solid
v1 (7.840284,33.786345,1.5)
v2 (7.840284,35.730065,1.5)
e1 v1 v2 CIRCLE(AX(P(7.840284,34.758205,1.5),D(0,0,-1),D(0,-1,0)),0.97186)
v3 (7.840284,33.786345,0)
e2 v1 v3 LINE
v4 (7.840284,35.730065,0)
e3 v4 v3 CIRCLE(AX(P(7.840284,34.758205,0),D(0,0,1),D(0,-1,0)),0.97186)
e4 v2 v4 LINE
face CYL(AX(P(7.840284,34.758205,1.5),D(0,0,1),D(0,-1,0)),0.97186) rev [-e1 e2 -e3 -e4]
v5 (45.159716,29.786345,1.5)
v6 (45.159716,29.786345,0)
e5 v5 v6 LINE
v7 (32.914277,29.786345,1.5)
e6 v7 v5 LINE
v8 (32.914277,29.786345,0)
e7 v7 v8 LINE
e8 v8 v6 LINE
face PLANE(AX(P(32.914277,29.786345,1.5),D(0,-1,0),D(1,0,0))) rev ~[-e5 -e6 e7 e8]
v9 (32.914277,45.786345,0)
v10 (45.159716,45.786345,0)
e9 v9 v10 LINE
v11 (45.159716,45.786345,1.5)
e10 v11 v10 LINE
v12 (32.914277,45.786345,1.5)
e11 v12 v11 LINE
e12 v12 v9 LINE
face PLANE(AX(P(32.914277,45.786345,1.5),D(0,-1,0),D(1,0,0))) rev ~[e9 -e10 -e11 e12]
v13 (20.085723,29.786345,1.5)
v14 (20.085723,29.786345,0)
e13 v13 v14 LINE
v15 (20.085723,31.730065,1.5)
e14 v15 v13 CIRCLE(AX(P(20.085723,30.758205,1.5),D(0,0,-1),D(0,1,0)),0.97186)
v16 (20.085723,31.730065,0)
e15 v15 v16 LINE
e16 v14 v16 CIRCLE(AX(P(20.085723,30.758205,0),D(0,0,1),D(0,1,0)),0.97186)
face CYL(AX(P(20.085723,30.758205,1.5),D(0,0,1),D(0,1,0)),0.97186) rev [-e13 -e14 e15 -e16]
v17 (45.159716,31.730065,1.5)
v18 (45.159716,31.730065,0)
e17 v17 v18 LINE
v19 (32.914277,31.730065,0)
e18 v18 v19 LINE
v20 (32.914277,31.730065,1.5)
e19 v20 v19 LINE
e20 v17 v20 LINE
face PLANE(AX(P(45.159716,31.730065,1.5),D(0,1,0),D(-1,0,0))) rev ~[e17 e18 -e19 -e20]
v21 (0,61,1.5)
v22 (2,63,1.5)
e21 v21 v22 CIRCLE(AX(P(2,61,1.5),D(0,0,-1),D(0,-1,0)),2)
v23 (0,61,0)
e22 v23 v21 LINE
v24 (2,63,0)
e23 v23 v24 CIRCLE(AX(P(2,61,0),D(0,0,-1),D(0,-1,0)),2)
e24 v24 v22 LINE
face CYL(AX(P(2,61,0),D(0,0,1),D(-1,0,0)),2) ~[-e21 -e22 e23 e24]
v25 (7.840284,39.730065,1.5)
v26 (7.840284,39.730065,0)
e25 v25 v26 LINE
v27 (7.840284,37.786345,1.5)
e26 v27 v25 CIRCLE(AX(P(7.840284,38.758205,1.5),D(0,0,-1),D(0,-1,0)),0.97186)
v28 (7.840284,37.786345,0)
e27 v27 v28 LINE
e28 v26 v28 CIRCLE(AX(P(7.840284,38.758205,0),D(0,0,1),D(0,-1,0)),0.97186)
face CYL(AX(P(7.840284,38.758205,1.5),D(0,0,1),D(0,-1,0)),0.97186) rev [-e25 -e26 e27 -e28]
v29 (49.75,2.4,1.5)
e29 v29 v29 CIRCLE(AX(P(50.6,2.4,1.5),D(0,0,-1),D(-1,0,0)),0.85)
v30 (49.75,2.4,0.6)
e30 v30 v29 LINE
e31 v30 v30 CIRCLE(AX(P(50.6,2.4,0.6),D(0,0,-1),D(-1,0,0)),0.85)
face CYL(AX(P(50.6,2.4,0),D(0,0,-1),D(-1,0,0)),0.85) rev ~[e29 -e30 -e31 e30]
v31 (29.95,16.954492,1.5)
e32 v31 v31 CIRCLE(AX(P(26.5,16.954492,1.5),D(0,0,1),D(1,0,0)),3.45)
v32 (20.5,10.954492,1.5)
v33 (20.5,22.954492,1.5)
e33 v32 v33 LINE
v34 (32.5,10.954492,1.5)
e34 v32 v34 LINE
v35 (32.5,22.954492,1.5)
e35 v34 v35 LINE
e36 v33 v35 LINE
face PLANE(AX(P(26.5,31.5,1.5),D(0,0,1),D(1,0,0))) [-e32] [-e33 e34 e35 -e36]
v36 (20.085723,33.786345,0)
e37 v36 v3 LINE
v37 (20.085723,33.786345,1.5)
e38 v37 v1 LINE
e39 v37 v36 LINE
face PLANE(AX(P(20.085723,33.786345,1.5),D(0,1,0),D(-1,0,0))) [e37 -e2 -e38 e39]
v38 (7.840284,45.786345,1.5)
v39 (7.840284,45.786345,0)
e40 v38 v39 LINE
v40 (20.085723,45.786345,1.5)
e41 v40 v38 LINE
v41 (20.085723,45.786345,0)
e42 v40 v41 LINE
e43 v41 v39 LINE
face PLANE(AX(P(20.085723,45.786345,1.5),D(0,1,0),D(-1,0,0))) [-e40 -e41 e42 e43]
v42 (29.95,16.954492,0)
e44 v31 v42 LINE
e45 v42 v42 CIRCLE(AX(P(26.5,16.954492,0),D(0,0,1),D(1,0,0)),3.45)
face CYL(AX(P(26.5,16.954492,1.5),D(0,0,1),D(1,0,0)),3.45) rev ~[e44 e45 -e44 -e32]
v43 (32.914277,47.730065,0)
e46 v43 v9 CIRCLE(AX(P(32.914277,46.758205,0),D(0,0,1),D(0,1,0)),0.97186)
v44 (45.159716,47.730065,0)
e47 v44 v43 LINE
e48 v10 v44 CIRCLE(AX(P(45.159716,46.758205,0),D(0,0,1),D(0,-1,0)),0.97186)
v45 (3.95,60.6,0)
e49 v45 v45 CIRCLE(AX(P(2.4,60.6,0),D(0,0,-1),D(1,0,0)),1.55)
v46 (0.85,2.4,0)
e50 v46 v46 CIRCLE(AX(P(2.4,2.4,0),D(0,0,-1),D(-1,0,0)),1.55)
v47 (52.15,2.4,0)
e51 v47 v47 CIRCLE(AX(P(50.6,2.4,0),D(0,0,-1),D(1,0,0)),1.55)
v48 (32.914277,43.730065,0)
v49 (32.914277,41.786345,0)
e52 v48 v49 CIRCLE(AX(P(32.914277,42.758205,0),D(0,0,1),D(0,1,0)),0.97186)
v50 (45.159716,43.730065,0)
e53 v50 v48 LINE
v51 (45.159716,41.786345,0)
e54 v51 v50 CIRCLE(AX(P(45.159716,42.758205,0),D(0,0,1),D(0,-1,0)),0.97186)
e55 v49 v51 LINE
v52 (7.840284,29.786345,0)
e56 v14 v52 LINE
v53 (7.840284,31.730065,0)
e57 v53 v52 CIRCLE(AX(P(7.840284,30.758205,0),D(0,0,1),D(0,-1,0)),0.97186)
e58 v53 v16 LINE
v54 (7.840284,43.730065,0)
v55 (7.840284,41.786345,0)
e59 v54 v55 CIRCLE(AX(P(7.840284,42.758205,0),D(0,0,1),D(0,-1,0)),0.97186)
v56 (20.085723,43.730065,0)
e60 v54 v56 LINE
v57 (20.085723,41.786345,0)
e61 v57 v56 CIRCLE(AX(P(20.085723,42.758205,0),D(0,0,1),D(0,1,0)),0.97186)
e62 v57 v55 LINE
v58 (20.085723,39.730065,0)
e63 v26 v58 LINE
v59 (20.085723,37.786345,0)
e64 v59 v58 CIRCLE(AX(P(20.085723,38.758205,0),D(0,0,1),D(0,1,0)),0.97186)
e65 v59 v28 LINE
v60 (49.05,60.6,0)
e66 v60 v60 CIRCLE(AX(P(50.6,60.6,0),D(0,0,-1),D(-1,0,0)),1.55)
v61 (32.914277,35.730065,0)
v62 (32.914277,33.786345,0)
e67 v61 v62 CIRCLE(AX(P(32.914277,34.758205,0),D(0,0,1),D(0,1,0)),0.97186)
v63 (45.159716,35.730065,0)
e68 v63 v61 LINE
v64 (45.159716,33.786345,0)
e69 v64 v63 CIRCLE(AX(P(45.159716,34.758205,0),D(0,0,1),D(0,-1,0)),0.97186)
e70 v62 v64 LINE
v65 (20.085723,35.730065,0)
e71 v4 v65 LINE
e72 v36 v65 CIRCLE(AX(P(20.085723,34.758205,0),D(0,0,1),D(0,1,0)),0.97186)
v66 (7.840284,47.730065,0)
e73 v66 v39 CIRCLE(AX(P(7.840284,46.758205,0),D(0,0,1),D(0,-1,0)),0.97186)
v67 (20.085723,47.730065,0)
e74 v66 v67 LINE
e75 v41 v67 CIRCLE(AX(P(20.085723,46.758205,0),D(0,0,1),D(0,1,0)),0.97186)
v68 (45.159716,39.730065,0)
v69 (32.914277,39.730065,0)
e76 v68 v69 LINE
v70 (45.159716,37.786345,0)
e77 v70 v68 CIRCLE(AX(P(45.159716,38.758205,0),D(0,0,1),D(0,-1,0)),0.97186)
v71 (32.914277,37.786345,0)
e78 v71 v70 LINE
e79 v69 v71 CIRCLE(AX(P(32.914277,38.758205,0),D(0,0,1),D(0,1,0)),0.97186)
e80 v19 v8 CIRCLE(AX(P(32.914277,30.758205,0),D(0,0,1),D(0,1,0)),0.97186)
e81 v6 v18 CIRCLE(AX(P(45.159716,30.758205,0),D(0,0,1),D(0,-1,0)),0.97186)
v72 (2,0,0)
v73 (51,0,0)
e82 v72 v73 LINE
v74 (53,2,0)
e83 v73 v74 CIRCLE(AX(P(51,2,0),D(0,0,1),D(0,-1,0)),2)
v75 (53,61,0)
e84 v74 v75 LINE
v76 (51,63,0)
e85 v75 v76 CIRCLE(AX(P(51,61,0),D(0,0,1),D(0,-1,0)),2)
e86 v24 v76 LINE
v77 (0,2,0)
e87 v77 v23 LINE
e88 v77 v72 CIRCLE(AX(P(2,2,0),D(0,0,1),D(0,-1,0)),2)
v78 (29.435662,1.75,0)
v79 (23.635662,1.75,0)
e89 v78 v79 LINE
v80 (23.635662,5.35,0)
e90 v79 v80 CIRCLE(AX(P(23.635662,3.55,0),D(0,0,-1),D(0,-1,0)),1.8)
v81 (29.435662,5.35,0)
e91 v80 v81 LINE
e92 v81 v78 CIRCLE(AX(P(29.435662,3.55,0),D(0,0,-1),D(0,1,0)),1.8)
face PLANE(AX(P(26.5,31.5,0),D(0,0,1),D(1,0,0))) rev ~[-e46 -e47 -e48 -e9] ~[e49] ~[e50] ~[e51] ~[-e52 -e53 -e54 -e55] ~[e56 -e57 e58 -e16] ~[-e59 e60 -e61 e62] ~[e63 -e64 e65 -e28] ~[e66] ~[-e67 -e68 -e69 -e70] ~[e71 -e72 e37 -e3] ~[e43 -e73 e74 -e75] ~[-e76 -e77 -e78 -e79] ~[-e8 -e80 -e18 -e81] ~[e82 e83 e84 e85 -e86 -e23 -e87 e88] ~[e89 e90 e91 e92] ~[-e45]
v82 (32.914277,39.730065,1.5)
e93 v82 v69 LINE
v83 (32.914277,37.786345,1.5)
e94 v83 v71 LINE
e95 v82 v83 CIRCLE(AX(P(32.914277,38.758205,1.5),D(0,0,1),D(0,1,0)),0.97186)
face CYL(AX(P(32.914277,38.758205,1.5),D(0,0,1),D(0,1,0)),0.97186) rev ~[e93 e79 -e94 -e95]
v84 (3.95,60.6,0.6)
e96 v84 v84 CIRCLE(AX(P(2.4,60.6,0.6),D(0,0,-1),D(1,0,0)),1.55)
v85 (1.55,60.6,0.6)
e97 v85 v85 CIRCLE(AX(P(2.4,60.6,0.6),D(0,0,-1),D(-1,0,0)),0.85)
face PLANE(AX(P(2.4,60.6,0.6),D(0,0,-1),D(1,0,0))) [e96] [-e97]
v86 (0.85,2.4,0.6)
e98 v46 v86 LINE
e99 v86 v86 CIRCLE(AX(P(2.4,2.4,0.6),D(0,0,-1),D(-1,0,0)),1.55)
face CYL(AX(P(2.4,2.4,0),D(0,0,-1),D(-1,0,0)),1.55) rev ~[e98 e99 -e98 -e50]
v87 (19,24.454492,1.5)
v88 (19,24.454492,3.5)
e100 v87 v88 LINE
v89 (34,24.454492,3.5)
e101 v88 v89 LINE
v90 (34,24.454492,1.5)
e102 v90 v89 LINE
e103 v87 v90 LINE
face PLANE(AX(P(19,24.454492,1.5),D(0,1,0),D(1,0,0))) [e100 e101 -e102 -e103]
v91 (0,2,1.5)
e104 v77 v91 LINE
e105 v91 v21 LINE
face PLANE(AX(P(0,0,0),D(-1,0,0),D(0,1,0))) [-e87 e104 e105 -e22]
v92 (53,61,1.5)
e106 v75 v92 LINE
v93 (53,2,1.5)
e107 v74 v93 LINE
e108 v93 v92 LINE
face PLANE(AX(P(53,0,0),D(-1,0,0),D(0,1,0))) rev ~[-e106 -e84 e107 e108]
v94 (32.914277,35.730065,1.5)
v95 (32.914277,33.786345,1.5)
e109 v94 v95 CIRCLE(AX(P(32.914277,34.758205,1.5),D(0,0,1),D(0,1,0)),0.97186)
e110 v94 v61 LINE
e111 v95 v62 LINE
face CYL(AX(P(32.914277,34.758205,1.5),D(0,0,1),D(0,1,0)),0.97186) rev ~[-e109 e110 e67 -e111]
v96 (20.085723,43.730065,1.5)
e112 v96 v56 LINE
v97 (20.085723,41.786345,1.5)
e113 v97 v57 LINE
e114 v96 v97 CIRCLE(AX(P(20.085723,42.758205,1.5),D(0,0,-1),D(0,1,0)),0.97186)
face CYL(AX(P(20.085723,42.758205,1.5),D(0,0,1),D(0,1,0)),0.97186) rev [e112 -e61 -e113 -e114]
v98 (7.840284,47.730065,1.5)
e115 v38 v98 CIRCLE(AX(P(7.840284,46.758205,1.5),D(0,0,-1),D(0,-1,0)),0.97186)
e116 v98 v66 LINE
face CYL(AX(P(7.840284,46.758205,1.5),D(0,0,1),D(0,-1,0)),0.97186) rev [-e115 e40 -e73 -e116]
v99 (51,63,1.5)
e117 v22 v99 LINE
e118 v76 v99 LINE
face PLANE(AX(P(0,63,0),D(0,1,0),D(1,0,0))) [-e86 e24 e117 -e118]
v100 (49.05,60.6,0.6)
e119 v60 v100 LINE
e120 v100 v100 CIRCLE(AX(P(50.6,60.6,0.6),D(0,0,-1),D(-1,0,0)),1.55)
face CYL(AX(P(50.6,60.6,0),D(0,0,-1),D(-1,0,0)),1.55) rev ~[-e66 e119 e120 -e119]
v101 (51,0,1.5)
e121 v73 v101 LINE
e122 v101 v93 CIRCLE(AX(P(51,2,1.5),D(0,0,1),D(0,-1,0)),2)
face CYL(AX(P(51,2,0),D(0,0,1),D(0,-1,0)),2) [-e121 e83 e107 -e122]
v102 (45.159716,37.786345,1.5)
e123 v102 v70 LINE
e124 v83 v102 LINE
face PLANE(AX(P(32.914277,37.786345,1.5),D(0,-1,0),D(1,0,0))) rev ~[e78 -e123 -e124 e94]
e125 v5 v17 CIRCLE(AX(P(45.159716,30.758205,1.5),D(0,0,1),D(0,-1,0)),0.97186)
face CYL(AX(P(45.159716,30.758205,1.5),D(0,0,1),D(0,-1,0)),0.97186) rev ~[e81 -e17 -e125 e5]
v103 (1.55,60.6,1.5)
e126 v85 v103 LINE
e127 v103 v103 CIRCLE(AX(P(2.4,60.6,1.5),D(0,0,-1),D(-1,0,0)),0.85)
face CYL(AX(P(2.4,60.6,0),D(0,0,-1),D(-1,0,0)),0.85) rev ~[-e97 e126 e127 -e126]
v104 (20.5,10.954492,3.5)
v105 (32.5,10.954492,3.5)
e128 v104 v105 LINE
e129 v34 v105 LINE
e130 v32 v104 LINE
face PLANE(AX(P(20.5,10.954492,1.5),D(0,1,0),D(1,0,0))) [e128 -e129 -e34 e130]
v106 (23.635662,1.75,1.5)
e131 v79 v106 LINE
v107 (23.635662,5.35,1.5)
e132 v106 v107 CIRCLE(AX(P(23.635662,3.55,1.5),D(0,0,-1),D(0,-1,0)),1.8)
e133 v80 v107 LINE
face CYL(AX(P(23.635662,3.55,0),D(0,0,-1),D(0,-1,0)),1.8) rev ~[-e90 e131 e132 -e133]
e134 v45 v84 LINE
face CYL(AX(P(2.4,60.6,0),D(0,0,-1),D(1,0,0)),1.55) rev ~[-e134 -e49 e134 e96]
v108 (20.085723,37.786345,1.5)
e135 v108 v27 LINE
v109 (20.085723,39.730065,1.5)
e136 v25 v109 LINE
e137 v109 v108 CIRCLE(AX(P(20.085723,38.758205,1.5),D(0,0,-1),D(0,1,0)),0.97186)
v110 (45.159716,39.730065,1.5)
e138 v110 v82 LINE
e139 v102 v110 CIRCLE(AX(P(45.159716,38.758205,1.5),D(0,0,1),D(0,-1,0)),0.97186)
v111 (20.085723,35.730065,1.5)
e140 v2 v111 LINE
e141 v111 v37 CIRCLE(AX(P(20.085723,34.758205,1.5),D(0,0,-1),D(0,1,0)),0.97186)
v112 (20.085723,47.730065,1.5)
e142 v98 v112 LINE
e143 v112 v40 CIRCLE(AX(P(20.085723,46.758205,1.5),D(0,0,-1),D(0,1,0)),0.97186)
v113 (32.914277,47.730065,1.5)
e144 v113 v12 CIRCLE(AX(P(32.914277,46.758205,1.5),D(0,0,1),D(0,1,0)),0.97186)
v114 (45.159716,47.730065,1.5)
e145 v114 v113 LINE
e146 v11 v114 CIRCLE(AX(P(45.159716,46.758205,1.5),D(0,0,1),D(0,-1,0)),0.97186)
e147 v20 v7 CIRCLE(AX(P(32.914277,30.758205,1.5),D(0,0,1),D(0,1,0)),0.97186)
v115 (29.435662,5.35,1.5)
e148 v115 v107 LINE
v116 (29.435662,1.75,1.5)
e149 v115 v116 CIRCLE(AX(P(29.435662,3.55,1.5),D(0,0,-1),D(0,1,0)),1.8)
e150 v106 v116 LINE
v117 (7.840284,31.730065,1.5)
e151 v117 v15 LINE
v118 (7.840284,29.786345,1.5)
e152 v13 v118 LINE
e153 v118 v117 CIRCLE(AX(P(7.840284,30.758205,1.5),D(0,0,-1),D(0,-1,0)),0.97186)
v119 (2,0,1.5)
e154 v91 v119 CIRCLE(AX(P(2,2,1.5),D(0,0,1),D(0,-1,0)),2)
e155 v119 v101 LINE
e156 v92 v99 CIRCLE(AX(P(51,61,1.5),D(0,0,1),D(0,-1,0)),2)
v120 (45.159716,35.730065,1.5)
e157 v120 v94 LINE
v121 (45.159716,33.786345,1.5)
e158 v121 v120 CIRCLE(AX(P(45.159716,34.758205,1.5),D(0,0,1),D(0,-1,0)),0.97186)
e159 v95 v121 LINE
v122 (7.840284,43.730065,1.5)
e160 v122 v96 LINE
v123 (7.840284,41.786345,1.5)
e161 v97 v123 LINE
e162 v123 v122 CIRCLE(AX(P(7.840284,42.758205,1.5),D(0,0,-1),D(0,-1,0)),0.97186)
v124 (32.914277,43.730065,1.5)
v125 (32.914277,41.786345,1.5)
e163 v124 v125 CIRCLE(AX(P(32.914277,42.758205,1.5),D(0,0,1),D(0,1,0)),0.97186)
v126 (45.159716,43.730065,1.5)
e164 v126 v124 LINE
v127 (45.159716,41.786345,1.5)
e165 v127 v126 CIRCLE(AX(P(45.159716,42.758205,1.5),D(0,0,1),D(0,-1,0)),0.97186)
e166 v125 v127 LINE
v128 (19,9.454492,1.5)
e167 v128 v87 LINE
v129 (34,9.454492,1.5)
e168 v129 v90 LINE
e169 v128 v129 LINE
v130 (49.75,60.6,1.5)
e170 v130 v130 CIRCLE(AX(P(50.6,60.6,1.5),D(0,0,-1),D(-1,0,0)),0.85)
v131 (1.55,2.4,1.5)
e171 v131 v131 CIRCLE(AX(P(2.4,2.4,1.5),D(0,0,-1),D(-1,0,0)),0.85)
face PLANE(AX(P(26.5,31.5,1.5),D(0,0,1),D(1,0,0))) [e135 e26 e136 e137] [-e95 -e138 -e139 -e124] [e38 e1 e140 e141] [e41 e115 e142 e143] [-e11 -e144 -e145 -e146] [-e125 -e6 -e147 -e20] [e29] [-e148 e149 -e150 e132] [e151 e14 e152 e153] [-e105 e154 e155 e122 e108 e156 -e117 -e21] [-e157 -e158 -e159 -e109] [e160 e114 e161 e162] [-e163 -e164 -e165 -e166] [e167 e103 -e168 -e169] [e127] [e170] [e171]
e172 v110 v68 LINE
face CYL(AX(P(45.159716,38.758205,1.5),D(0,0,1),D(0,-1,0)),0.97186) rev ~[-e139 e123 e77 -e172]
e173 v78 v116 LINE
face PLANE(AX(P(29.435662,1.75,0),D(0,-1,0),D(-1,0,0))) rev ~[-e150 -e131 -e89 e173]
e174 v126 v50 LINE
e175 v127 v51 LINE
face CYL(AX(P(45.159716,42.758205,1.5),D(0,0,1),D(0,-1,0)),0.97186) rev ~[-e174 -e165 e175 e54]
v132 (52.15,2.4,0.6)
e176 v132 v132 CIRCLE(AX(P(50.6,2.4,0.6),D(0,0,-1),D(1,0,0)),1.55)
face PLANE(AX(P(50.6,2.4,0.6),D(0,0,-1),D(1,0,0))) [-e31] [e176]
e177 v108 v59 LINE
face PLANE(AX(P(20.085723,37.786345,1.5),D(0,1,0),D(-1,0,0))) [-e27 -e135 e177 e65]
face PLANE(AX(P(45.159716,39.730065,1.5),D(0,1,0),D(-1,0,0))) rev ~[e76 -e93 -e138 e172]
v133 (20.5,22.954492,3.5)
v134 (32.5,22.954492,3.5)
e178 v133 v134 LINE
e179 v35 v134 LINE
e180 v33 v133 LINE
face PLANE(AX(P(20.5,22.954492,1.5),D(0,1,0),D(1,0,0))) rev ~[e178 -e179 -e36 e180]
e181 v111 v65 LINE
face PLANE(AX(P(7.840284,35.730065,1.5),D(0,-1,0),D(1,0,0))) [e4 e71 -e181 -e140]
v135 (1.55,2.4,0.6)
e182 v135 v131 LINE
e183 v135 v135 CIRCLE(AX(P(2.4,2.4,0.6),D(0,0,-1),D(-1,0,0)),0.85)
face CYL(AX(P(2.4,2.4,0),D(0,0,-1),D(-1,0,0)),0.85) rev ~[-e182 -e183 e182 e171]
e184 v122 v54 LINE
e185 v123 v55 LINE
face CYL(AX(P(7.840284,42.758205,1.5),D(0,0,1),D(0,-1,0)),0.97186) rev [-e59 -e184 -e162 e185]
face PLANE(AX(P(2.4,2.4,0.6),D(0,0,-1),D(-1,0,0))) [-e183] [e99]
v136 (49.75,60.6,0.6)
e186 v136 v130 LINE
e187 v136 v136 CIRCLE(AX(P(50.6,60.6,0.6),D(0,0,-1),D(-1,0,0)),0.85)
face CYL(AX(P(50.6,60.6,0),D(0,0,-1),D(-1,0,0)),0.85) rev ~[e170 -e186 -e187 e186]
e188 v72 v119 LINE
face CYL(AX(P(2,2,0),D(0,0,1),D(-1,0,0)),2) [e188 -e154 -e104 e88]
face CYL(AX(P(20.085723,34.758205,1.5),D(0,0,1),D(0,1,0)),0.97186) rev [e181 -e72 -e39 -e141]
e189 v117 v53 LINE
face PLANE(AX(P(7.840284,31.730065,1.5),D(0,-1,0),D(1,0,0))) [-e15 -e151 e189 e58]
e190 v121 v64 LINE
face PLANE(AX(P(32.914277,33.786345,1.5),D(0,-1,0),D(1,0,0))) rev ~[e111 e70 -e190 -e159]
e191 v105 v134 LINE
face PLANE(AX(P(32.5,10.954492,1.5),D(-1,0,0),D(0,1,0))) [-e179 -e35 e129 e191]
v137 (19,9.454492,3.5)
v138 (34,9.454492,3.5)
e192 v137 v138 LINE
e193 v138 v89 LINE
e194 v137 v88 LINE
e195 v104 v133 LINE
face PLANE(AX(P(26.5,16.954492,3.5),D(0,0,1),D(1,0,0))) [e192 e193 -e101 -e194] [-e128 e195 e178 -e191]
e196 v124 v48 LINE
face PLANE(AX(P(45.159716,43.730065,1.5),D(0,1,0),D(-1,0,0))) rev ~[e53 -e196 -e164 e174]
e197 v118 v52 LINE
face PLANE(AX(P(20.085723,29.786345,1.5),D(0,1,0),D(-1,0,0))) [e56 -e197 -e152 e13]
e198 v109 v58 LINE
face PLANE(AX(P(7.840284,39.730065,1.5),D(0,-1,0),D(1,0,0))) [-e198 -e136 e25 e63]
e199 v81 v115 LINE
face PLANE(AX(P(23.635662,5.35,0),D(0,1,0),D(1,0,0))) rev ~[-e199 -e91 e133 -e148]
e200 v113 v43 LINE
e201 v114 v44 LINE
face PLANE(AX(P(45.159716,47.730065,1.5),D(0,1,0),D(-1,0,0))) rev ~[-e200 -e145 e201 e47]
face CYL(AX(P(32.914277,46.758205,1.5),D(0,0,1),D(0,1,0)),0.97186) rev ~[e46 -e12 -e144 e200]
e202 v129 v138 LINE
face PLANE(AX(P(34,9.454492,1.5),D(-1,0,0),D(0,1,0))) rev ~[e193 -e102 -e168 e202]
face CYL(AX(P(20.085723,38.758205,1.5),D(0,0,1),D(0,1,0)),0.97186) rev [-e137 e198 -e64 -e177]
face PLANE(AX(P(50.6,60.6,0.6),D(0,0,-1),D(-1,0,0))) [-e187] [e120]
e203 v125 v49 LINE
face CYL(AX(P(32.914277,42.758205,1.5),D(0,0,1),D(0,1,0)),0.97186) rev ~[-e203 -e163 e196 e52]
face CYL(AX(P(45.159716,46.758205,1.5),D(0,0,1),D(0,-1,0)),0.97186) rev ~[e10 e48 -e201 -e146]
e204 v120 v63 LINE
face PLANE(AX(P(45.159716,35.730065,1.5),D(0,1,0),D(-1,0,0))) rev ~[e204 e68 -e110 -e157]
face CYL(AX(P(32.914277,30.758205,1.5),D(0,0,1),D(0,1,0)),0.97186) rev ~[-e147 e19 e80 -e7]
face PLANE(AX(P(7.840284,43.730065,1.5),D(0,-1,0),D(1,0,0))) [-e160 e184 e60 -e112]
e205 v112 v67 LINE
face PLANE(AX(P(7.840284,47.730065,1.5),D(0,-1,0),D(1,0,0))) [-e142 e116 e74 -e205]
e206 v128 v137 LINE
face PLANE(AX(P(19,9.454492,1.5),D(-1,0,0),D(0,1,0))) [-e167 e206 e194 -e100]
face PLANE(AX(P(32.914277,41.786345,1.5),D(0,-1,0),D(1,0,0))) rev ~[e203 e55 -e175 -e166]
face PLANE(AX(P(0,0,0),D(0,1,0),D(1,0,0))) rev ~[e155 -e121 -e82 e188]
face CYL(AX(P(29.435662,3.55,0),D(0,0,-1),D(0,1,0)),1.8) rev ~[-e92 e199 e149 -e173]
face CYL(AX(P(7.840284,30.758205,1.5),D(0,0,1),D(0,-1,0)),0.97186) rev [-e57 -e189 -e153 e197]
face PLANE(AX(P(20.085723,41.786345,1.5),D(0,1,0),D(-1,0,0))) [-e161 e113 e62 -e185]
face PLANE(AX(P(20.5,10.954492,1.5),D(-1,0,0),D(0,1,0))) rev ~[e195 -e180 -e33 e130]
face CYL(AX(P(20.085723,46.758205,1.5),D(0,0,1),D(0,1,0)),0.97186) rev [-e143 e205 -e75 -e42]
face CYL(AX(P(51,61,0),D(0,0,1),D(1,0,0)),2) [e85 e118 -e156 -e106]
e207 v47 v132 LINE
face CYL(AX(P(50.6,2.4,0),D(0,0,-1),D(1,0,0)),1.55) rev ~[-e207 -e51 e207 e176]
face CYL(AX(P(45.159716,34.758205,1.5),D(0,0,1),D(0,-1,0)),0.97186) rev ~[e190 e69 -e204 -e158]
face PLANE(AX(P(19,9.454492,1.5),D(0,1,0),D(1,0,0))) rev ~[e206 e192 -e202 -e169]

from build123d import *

# Parameters (mm, degrees)
SKETCH_1_W          = 53
SKETCH_1_H          = 63
EXTRUDE_1_DEPTH     = 1.5
FILLET_1_R          = 2
CUT_EXTRUDE_2_DEPTH = 83.342273469
CUT_EXTRUDE_3_DEPTH = 83.342273469
SKETCH_5_R          = 3.45
CUT_EXTRUDE_4_DEPTH = 83.342273469
SKETCH_6_W          = 15
SKETCH_6_H          = 15
SKETCH_6_W_2        = 12
SKETCH_6_H_2        = 12
EXTRUDE_1_2_DEPTH   = 2
SKETCH_9_R          = 0.85
CUT_EXTRUDE_5_DEPTH = 83.402973247
SKETCH_10_R         = 1.55
CUT_EXTRUDE_6_DEPTH = 0.6


with BuildPart() as part:
    # 草图1 → Extrude 1 (new body)
    with BuildSketch(Plane.XY):
        with Locations((26.5, 31.5)):
            Rectangle(SKETCH_1_W, SKETCH_1_H)
    extrude(amount=EXTRUDE_1_DEPTH)

    # 圆角1
    fillet_1_edges = [part.edges().sort_by_distance(p)[0] for p in [
        (0, 63, 0.75),
        (53, 63, 0.75),
        (53, 0, 0.75),
        (0, 0, 0.75),
    ]]
    fillet(fillet_1_edges, radius=FILLET_1_R)

    # 草图3 → 切除-拉伸2 (cut, through all)
    with BuildSketch(Plane(origin=(0, 0, 0), x_dir=(-1, 0, 0), z_dir=(0, 0, -1))):
        with BuildLine():
            Line((-23.635661643, 5.35), (-29.435661643, 5.35))
            ThreePointArc((-29.435661643, 5.35), (-31.235661643, 3.55), (-29.435661643, 1.75))
            Line((-29.435661643, 1.75), (-23.635661643, 1.75))
            ThreePointArc((-23.635661643, 1.75), (-21.835661643, 3.55), (-23.635661643, 5.35))
        make_face()
    extrude(amount=-CUT_EXTRUDE_2_DEPTH, mode=Mode.SUBTRACT)

    # 草图4 → 切除-拉伸3 (cut, through all)
    with BuildSketch(Plane.XY.offset(1.5)):
        with BuildLine():
            Line((7.840284333, 47.730065189), (20.08572274, 47.730065189))
            ThreePointArc((20.08572274, 47.730065189), (21.057582931, 46.758204998), (20.08572274, 45.786344807))
            Line((20.08572274, 45.786344807), (7.840284333, 45.786344807))
            ThreePointArc((7.840284333, 45.786344807), (6.868424142, 46.758204998), (7.840284333, 47.730065189))
        make_face()
        with BuildLine():
            Line((7.840284333, 43.730065189), (20.08572274, 43.730065189))
            ThreePointArc((20.08572274, 43.730065189), (21.057582931, 42.758204998), (20.08572274, 41.786344807))
            Line((20.08572274, 41.786344807), (7.840284333, 41.786344807))
            ThreePointArc((7.840284333, 41.786344807), (6.868424142, 42.758204998), (7.840284333, 43.730065189))
        make_face()
        with BuildLine():
            Line((7.840284333, 39.730065189), (20.08572274, 39.730065189))
            ThreePointArc((20.08572274, 39.730065189), (21.057582931, 38.758204998), (20.08572274, 37.786344807))
            Line((20.08572274, 37.786344807), (7.840284333, 37.786344807))
            ThreePointArc((7.840284333, 37.786344807), (6.868424142, 38.758204998), (7.840284333, 39.730065189))
        make_face()
        with BuildLine():
            Line((7.840284333, 35.730065189), (20.08572274, 35.730065189))
            ThreePointArc((20.08572274, 35.730065189), (21.057582931, 34.758204998), (20.08572274, 33.786344807))
            Line((20.08572274, 33.786344807), (7.840284333, 33.786344807))
            ThreePointArc((7.840284333, 33.786344807), (6.868424142, 34.758204998), (7.840284333, 35.730065189))
        make_face()
        with BuildLine():
            Line((7.840284333, 31.730065189), (20.08572274, 31.730065189))
            ThreePointArc((20.08572274, 31.730065189), (21.057582931, 30.758204998), (20.08572274, 29.786344807))
            Line((20.08572274, 29.786344807), (7.840284333, 29.786344807))
            ThreePointArc((7.840284333, 29.786344807), (6.868424142, 30.758204998), (7.840284333, 31.730065189))
        make_face()
        with BuildLine():
            Line((45.159715667, 31.730065189), (32.91427726, 31.730065189))
            ThreePointArc((32.91427726, 31.730065189), (31.942417069, 30.758204998), (32.91427726, 29.786344807))
            Line((32.91427726, 29.786344807), (45.159715667, 29.786344807))
            ThreePointArc((45.159715667, 29.786344807), (46.131575858, 30.758204998), (45.159715667, 31.730065189))
        make_face()
        with BuildLine():
            Line((45.159715667, 35.730065189), (32.91427726, 35.730065189))
            ThreePointArc((32.91427726, 35.730065189), (31.942417069, 34.758204998), (32.91427726, 33.786344807))
            Line((32.91427726, 33.786344807), (45.159715667, 33.786344807))
            ThreePointArc((45.159715667, 33.786344807), (46.131575858, 34.758204998), (45.159715667, 35.730065189))
        make_face()
        with BuildLine():
            Line((45.159715667, 39.730065189), (32.91427726, 39.730065189))
            ThreePointArc((32.91427726, 39.730065189), (31.942417069, 38.758204998), (32.91427726, 37.786344807))
            Line((32.91427726, 37.786344807), (45.159715667, 37.786344807))
            ThreePointArc((45.159715667, 37.786344807), (46.131575858, 38.758204998), (45.159715667, 39.730065189))
        make_face()
        with BuildLine():
            Line((45.159715667, 43.730065189), (32.91427726, 43.730065189))
            ThreePointArc((32.91427726, 43.730065189), (31.942417069, 42.758204998), (32.91427726, 41.786344807))
            Line((32.91427726, 41.786344807), (45.159715667, 41.786344807))
            ThreePointArc((45.159715667, 41.786344807), (46.131575858, 42.758204998), (45.159715667, 43.730065189))
        make_face()
        with BuildLine():
            Line((45.159715667, 47.730065189), (32.91427726, 47.730065189))
            ThreePointArc((32.91427726, 47.730065189), (31.942417069, 46.758204998), (32.91427726, 45.786344807))
            Line((32.91427726, 45.786344807), (45.159715667, 45.786344807))
            ThreePointArc((45.159715667, 45.786344807), (46.131575858, 46.758204998), (45.159715667, 47.730065189))
        make_face()
    extrude(amount=-CUT_EXTRUDE_3_DEPTH, mode=Mode.SUBTRACT)

    # 草图5 → 切除-拉伸4 (cut, through all)
    with BuildSketch(Plane.XY.offset(1.5)):
        with Locations((26.5, 16.954492475)):
            Circle(SKETCH_5_R)
    extrude(amount=-CUT_EXTRUDE_4_DEPTH, mode=Mode.SUBTRACT)

    # 草图6 → Extrude 1 2 (add)
    with BuildSketch(Plane.XY.offset(1.5)):
        with Locations((26.5, 16.954492475)):
            Rectangle(SKETCH_6_W, SKETCH_6_H)
        with Locations((26.5, 16.954492475)):
            Rectangle(SKETCH_6_W_2, SKETCH_6_H_2, mode=Mode.SUBTRACT)
    extrude(amount=EXTRUDE_1_2_DEPTH)

    # 草图9 → 切除-拉伸5 (cut, through all)
    with BuildSketch(Plane(origin=(0, 0, 0), x_dir=(-1, 0, 0), z_dir=(0, 0, -1))):
        with Locations((-2.4, 2.4)):
            Circle(SKETCH_9_R)
        with Locations((-50.6, 60.6)):
            Circle(SKETCH_9_R)
        with Locations((-2.4, 60.6)):
            Circle(SKETCH_9_R)
        with Locations((-50.6, 2.4)):
            Circle(SKETCH_9_R)
    extrude(amount=-CUT_EXTRUDE_5_DEPTH, mode=Mode.SUBTRACT)

    # 草图10 → 切除-拉伸6 (cut)
    with BuildSketch(Plane(origin=(0, 0, 0), x_dir=(-1, 0, 0), z_dir=(0, 0, -1))):
        with Locations((-50.6, 60.6)):
            Circle(SKETCH_10_R)
        with Locations(Location((-2.4, 60.6, 0), (0, 0, 180))):
            Circle(SKETCH_10_R)
        with Locations((-2.4, 2.4)):
            Circle(SKETCH_10_R)
        with Locations(Location((-50.6, 2.4, 0), (0, 0, 180))):
            Circle(SKETCH_10_R)
    extrude(amount=-CUT_EXTRUDE_6_DEPTH, mode=Mode.SUBTRACT)


solid = part.part
